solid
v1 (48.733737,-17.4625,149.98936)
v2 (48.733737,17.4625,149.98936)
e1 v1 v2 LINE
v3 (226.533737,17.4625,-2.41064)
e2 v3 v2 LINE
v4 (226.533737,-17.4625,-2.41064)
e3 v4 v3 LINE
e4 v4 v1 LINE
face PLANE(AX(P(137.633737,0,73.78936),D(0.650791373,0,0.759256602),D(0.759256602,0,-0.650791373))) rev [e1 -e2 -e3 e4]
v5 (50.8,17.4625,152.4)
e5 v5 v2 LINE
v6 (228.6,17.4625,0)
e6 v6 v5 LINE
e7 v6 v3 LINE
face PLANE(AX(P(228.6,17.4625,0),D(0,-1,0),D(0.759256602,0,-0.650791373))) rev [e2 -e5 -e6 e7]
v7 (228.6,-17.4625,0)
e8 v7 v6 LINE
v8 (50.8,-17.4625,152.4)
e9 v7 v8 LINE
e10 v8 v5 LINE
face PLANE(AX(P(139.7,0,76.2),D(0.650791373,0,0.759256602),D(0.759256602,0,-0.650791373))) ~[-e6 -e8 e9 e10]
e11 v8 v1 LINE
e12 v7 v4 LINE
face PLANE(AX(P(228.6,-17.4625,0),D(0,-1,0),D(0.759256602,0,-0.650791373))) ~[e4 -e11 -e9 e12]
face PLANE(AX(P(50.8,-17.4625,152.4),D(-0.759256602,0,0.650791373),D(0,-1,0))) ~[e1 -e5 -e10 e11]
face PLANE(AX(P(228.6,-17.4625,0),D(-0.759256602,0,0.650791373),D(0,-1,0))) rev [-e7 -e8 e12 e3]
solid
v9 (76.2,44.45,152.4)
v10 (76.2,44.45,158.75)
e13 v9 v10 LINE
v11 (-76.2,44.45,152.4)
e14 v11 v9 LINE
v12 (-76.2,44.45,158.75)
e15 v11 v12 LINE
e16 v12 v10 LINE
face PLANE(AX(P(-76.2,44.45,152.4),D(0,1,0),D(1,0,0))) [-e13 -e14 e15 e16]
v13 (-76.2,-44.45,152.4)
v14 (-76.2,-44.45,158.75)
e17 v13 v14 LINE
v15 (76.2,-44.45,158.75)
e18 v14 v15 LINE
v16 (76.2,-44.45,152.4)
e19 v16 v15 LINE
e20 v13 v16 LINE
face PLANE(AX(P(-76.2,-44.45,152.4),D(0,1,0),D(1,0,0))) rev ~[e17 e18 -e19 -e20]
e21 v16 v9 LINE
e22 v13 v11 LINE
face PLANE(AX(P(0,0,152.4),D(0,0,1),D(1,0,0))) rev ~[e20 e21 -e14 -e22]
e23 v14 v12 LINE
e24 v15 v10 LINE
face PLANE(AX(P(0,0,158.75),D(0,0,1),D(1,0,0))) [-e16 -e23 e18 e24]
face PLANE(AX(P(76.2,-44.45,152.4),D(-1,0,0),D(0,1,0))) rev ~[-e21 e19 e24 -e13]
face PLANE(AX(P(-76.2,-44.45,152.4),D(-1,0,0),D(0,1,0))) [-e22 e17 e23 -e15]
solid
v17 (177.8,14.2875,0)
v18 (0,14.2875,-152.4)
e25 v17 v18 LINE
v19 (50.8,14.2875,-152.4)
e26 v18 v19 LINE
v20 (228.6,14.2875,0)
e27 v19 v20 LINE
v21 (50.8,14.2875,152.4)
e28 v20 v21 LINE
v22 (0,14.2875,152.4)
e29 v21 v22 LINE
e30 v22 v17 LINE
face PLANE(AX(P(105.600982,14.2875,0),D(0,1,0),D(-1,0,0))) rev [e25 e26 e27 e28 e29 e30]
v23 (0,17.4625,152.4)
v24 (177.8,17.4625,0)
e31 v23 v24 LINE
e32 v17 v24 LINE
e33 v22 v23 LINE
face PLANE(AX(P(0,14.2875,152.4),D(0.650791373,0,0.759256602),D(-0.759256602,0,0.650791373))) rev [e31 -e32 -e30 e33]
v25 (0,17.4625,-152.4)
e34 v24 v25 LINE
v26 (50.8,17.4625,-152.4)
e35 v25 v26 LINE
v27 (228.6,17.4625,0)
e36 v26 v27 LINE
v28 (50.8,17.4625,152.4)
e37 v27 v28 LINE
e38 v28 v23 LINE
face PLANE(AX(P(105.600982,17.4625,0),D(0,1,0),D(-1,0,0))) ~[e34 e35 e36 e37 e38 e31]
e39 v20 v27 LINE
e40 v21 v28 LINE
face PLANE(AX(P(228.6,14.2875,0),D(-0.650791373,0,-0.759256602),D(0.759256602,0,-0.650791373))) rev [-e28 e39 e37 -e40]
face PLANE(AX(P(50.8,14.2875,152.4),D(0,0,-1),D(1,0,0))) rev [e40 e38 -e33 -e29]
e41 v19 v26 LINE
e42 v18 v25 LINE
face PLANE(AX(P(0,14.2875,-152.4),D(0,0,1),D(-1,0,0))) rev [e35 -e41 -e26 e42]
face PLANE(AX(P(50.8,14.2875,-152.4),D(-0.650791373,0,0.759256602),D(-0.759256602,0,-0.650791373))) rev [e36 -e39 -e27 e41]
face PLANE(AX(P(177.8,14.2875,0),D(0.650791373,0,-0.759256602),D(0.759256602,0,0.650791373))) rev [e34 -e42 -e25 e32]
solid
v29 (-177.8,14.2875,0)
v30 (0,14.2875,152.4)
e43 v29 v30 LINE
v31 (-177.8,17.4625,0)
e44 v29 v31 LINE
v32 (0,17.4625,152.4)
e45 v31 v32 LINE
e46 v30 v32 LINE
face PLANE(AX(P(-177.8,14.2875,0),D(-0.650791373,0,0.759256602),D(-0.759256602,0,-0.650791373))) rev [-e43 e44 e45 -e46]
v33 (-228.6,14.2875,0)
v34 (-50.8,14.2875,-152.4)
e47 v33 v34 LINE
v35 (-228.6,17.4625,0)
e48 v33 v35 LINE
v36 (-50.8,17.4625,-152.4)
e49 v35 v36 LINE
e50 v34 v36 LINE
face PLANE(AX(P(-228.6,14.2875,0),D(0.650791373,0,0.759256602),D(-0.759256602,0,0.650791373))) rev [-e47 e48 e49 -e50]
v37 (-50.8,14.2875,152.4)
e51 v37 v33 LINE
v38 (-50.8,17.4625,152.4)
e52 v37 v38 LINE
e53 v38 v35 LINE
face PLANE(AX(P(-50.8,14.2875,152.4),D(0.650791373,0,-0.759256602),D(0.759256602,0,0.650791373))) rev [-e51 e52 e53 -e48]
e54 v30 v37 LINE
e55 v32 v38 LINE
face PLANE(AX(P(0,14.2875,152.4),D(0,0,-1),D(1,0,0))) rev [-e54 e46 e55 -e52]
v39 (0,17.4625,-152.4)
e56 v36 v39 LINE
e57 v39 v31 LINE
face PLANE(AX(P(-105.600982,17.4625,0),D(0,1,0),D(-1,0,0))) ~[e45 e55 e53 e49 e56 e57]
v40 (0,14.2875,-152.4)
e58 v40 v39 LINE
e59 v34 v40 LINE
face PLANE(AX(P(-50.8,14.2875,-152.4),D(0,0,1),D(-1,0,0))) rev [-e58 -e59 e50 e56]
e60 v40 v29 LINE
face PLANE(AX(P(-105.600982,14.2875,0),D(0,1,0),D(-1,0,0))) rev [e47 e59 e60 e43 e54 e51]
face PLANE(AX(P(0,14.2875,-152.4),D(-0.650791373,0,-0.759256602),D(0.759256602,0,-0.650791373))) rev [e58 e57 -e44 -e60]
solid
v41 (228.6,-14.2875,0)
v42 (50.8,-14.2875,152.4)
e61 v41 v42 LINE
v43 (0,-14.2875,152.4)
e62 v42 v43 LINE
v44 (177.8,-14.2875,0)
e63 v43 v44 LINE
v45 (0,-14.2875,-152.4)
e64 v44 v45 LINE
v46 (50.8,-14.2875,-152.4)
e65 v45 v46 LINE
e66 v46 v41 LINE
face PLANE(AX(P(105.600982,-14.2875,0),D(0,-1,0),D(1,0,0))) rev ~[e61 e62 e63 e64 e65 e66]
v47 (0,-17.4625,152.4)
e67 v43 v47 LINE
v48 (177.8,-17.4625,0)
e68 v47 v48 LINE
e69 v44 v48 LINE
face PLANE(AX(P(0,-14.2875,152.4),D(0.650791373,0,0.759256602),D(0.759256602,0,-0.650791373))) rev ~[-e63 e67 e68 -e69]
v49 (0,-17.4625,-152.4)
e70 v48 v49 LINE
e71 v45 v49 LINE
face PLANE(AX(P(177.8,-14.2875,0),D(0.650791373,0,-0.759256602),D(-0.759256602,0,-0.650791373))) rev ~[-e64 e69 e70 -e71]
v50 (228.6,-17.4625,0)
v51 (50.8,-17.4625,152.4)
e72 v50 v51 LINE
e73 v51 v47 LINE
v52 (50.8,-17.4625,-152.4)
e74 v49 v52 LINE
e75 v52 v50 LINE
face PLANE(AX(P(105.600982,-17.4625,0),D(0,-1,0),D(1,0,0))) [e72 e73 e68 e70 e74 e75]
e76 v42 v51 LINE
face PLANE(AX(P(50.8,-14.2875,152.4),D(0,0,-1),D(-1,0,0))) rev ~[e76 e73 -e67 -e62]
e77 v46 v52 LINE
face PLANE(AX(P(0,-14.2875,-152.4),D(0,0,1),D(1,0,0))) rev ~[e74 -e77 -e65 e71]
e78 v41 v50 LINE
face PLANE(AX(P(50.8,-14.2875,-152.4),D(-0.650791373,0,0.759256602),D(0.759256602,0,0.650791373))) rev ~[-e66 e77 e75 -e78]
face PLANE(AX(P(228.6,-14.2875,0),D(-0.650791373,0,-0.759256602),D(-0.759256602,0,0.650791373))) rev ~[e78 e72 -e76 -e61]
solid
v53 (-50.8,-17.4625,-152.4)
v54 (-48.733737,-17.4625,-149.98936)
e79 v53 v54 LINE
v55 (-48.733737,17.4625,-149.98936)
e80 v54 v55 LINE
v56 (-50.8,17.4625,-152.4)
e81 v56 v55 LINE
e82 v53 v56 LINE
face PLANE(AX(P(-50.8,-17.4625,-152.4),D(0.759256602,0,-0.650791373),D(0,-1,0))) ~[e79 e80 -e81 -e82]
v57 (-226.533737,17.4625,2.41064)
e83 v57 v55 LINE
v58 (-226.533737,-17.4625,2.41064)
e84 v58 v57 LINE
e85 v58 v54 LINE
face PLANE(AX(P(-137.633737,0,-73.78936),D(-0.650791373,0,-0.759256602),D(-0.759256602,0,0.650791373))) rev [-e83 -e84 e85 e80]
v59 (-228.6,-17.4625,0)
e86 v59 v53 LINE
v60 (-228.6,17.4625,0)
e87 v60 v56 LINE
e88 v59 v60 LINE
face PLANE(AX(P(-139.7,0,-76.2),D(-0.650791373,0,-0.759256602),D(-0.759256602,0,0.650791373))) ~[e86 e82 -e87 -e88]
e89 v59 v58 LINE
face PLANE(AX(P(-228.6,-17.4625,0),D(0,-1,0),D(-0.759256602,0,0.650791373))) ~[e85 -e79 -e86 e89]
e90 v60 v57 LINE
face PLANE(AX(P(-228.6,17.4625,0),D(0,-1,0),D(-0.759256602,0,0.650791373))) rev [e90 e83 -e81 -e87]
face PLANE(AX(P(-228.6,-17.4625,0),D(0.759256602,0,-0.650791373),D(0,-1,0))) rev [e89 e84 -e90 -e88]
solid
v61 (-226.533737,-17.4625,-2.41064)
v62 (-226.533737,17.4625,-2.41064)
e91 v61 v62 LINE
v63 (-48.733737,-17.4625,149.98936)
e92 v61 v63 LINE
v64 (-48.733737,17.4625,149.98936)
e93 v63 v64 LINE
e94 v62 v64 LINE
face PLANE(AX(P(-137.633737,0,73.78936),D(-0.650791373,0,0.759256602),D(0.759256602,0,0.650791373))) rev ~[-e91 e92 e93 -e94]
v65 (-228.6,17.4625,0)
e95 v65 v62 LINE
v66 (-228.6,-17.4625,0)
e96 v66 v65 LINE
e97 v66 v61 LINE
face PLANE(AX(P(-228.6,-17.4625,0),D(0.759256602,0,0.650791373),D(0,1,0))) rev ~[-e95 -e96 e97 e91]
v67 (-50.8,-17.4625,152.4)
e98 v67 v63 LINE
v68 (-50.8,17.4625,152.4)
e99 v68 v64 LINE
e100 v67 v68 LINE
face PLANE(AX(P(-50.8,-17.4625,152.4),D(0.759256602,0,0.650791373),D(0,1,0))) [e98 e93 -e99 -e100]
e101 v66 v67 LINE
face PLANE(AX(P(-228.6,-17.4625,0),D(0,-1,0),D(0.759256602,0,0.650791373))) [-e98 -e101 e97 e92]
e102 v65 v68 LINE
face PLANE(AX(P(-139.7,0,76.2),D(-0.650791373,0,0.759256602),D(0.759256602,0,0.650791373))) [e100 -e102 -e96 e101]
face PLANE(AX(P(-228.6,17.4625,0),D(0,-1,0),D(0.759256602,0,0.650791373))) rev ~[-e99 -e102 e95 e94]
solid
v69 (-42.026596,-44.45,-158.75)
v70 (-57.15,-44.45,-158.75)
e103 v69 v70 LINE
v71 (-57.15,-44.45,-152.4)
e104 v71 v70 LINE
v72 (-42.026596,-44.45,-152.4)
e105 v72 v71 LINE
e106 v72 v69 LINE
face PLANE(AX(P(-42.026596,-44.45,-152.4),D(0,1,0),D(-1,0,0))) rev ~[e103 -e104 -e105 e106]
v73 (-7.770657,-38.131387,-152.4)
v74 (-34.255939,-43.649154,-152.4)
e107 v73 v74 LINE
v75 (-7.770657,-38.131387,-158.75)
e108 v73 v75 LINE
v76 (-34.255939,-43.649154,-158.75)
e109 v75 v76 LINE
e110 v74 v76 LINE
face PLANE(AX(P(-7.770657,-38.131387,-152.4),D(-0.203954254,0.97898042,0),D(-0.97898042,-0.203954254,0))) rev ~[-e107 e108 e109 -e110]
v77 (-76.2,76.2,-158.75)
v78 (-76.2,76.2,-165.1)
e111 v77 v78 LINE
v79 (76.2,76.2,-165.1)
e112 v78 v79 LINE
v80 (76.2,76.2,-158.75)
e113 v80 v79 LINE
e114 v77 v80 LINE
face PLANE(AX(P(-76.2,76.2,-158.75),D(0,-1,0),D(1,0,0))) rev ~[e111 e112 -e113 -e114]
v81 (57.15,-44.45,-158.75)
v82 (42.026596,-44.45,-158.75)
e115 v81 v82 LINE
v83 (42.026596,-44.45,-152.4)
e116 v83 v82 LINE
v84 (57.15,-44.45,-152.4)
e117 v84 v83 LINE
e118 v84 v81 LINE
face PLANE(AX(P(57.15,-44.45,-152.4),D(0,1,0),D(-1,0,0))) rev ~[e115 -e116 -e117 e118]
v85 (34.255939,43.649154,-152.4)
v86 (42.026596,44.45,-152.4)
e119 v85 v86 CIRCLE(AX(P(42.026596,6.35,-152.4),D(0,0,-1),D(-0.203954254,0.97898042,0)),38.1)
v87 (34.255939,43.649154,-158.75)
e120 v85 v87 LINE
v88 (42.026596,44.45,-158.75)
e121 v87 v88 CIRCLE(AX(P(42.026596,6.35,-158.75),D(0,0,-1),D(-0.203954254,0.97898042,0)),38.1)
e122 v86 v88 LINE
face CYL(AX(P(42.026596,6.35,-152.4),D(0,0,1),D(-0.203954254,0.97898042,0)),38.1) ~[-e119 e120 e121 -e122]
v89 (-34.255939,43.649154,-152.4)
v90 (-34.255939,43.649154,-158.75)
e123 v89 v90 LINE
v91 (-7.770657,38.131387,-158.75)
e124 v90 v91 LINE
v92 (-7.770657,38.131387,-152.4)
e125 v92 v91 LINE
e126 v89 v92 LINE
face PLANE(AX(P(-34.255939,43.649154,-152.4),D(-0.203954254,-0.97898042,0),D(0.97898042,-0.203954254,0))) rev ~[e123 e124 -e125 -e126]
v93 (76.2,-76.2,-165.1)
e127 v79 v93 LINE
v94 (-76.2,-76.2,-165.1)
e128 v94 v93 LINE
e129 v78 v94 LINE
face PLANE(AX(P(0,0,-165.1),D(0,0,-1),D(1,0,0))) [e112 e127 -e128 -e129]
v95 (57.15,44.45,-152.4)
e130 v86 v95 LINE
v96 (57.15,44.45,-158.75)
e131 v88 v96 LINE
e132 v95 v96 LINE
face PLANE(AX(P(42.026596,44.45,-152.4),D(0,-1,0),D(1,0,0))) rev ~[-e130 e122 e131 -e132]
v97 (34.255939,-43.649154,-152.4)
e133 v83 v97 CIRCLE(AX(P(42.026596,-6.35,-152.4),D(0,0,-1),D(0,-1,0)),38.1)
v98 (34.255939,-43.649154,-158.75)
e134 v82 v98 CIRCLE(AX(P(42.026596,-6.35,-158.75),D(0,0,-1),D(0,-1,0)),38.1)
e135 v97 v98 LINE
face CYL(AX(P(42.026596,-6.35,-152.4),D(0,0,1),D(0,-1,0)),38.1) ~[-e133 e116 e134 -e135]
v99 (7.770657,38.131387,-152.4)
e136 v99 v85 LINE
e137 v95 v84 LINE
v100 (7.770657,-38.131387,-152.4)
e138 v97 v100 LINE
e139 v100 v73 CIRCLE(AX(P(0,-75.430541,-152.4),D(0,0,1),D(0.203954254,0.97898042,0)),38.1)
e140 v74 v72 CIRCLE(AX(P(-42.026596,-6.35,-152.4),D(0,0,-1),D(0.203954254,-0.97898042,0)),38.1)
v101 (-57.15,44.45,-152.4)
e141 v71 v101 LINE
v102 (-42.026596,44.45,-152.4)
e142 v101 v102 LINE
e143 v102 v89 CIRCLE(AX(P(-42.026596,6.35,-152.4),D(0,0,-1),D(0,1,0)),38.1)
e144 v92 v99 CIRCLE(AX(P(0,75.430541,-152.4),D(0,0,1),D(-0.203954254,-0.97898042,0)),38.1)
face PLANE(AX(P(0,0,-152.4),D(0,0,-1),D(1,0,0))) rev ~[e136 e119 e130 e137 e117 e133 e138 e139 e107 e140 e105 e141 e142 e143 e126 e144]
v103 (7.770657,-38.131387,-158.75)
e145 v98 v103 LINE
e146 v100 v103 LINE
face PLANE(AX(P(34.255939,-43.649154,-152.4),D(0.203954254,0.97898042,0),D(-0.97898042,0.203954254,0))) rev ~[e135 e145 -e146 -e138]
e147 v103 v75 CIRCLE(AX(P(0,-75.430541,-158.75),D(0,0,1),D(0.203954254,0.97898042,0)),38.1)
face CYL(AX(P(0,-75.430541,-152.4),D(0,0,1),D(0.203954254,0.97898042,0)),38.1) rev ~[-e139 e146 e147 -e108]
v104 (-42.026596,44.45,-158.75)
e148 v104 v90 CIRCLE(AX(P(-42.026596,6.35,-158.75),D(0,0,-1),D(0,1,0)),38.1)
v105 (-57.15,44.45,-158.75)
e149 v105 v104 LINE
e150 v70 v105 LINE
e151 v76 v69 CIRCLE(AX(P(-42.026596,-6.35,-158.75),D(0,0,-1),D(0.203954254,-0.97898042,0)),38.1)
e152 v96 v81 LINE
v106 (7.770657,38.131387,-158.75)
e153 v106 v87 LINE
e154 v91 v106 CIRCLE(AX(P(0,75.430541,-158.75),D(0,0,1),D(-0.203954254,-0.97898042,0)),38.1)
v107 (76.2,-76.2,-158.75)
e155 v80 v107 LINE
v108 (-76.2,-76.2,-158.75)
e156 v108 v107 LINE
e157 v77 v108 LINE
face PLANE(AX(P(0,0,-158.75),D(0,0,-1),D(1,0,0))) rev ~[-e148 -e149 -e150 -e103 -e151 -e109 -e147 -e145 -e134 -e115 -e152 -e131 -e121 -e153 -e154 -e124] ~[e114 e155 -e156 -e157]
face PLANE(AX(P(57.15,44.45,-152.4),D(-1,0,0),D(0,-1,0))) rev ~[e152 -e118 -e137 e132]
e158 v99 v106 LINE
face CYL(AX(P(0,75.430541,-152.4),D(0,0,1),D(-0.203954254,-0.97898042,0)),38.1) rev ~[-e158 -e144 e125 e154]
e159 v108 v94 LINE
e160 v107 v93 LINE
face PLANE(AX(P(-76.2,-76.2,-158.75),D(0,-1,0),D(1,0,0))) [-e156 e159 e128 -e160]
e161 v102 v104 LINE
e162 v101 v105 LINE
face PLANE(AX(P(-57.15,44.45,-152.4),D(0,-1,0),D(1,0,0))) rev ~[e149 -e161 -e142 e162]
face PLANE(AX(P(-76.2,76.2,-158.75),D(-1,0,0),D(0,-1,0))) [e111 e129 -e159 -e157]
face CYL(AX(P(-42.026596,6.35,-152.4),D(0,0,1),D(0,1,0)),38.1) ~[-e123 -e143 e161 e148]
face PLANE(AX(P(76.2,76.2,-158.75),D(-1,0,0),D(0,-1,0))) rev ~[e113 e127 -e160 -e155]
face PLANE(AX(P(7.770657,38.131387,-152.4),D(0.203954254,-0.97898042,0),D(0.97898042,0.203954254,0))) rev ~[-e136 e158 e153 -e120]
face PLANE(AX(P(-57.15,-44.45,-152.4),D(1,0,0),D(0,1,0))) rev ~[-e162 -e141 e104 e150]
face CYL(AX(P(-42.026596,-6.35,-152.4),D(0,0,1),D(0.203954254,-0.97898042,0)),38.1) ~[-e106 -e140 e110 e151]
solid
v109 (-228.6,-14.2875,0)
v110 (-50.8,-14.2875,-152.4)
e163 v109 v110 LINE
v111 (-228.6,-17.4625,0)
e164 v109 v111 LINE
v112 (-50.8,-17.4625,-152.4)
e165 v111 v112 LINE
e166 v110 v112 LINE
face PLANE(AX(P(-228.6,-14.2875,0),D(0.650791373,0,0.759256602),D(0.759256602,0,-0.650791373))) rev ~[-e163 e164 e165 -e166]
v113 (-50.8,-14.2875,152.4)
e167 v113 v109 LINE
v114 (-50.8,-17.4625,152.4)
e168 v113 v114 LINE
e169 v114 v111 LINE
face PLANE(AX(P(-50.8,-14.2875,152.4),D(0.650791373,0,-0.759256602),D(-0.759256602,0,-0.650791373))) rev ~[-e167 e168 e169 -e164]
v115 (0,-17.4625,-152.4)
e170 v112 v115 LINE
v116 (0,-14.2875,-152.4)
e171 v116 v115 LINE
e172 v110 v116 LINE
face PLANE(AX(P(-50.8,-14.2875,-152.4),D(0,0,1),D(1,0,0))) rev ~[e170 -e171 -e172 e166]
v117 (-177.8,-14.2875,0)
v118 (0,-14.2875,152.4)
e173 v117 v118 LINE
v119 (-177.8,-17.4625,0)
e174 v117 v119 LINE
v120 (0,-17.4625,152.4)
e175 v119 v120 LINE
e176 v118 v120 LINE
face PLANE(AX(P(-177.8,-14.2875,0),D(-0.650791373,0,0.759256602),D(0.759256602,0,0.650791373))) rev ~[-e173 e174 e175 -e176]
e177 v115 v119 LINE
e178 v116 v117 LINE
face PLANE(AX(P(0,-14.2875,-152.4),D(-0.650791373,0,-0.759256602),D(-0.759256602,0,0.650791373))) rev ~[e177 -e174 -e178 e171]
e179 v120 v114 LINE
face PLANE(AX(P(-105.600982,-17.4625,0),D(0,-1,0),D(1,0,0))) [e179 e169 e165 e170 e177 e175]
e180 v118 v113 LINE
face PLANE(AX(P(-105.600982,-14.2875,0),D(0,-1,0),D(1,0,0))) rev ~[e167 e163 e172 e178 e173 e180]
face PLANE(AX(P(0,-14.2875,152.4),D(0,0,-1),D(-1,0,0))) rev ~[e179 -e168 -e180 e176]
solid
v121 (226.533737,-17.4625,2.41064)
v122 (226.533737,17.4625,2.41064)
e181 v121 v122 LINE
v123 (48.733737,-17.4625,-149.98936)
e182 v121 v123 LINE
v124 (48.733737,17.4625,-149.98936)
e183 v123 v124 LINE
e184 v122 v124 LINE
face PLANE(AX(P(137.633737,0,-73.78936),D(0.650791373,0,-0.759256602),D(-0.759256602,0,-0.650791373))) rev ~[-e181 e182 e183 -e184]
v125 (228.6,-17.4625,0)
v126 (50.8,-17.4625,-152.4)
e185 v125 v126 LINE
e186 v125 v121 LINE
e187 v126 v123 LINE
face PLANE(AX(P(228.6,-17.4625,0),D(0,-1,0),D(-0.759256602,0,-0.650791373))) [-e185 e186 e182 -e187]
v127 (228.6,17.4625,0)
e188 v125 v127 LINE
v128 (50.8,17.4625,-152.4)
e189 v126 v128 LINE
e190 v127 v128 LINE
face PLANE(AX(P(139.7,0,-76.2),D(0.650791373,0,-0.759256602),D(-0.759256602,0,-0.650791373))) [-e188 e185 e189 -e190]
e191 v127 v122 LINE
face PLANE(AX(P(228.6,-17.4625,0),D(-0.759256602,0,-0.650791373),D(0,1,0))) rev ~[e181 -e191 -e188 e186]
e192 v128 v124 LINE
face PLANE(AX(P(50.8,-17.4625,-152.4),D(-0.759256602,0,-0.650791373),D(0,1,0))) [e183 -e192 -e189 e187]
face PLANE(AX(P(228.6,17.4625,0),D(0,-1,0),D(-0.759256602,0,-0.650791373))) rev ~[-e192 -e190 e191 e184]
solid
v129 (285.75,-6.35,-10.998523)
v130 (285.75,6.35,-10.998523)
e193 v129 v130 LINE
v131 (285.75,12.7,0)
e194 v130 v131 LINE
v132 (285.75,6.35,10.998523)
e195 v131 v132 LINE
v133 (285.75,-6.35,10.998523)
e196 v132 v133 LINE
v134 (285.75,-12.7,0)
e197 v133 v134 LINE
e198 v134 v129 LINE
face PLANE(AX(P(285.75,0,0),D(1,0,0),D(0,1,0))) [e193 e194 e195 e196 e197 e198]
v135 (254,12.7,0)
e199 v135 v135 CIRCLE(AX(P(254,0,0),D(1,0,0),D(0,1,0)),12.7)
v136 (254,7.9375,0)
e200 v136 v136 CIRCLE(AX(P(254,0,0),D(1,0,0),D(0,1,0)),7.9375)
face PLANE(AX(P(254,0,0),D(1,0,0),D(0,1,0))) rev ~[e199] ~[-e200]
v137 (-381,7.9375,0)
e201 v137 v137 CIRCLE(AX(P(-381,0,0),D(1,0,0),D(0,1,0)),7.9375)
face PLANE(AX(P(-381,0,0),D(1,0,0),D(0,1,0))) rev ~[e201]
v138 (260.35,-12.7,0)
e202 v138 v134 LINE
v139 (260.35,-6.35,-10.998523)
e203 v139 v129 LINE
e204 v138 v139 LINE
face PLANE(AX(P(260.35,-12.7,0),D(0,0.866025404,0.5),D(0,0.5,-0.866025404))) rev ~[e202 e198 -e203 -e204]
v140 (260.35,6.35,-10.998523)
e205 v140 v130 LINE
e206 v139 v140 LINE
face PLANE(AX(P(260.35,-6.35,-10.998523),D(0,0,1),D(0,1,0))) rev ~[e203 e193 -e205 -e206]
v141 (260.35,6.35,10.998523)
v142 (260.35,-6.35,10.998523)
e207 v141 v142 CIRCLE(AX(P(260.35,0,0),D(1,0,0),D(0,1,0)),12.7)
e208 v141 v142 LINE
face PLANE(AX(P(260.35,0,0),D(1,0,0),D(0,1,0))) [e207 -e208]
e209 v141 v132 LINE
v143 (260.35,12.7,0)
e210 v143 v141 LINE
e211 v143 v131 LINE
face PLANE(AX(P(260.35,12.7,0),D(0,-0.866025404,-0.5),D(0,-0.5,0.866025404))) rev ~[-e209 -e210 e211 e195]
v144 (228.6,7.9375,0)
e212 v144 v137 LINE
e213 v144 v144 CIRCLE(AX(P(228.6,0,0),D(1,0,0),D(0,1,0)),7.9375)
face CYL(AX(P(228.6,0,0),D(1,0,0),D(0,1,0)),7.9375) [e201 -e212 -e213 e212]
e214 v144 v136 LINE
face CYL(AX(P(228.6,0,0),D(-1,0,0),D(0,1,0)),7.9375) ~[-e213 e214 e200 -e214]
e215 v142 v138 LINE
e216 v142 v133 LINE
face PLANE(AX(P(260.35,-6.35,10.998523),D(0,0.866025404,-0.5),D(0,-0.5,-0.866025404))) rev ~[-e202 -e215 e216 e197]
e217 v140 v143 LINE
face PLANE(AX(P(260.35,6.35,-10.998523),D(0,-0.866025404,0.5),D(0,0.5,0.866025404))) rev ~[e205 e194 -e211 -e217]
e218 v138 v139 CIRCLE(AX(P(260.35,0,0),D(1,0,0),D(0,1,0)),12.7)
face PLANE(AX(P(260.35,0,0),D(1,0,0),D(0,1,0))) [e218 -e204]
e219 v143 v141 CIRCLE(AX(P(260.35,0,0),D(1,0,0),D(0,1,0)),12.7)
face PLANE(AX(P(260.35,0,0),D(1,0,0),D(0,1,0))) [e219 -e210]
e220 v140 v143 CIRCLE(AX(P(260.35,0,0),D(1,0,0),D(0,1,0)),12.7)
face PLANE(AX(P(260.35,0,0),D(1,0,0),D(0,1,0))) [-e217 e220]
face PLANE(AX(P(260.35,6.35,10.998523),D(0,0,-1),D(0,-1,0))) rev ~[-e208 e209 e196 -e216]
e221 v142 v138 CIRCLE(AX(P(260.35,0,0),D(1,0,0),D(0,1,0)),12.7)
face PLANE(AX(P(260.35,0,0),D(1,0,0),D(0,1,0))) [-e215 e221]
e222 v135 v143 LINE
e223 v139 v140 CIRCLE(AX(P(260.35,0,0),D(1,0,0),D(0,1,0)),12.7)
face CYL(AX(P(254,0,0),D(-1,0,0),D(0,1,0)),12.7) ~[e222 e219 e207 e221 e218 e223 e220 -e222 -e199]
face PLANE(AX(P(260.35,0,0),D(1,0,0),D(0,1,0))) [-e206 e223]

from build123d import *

# Parameters (mm, degrees)
F2_DEPTH  = 3.175
F4_W      = 234.1764292152
F4_H      = 34.925
F5_DEPTH  = 3.175
F8_W      = 152.4
F8_H      = 88.9
F9_DEPTH  = 6.35
F11_DEPTH = 6.35
F13_R     = 7.9375
F14_DEPTH = 609.6
F15_R     = 7.9375
F16_DEPTH = 25.4
F17_R     = 12.7
F18_DEPTH = 6.35
F20_DEPTH = 25.4
F21_W     = 152.4
F21_H     = 152.4
F22_DEPTH = 6.35


with BuildPart() as f2:
    # F1 (on offset) → F2 (new body)
    with BuildSketch(Plane.XZ.offset(14.2875)):
        Polygon((-177.8, 0), (0, 152.4), (-50.8, 152.4), (-228.6, 0), (-50.8, -152.4), (0, -152.4), align=None)
    extrude(amount=F2_DEPTH)


with BuildPart() as f2b:
    # F1 (on offset) → F2, piece 2 (new body)
    with BuildSketch(Plane.XZ.offset(14.2875)):
        Polygon((50.8, 152.4), (0, 152.4), (177.8, 0), (0, -152.4), (50.8, -152.4), (228.6, 0), align=None)
    extrude(amount=F2_DEPTH)


with BuildPart() as f3_1:
    # F3: instance of F2
    add(f2.part.mirror(Plane.XZ))


with BuildPart() as f3_2:
    # F3: instance of F2b
    add(f2b.part.mirror(Plane.XZ))


with BuildPart() as f5:
    # F4 (on face) → F5 (new body)
    with BuildSketch(Plane(origin=(-96.8188235294, 0, 112.9552941176), x_dir=(0.7592566024, 0, 0.6507913735), z_dir=(-0.6507913735, 0, 0.7592566024))):
        with Locations((-56.4778446931, 0)):
            Rectangle(F4_W, F4_H)
    extrude(amount=-F5_DEPTH)


with BuildPart() as f6_1:
    # F6: instance of F5
    add(f5.part.mirror(Plane.XY))


with BuildPart() as f7_1:
    # F7: instance of F5
    add(f5.part.mirror(Plane.YZ))


with BuildPart() as f7_2:
    # F7: instance of F6_1
    add(f6_1.part.mirror(Plane.YZ))


with BuildPart() as f9:
    # F8 (on face) → F9 (new body)
    with BuildSketch(Plane.XY.offset(152.4)):
        Rectangle(F8_W, F8_H)
    extrude(amount=F9_DEPTH)


with BuildPart() as f11:
    # F10 (on face) → F11 (new body)
    with BuildSketch(Plane(origin=(0, 0, -152.4), x_dir=(1, 0, 0), z_dir=(0, 0, -1))):
        with BuildLine():
            Line((-42.0265962433, 44.45), (-57.15, 44.45))
            Line((-57.15, 44.45), (-57.15, -44.45))
            Line((-57.15, -44.45), (-42.0265962433, -44.45))
            ThreePointArc((-42.0265962433, -44.45), (-38.1206883524, -44.2492596702), (-34.2559391616, -43.649153992))
            Line((-34.2559391616, -43.649153992), (-7.7706570817, -38.131386892))
            ThreePointArc((-7.7706570817, -38.131386892), (0, -37.330540884), (7.7706570817, -38.131386892))
            Line((7.7706570817, -38.131386892), (34.2559391616, -43.649153992))
            ThreePointArc((34.2559391616, -43.649153992), (38.1206883524, -44.2492596702), (42.0265962433, -44.45))
            Line((42.0265962433, -44.45), (57.15, -44.45))
            Line((57.15, -44.45), (57.15, 44.45))
            Line((57.15, 44.45), (42.0265962433, 44.45))
            ThreePointArc((42.0265962433, 44.45), (38.1206883524, 44.2492596702), (34.2559391616, 43.649153992))
            Line((34.2559391616, 43.649153992), (7.7706570817, 38.131386892))
            ThreePointArc((7.7706570817, 38.131386892), (0, 37.330540884), (-7.7706570817, 38.131386892))
            Line((-7.7706570817, 38.131386892), (-34.2559391616, 43.649153992))
            ThreePointArc((-34.2559391616, 43.649153992), (-38.1206883524, 44.2492596702), (-42.0265962433, 44.45))
        make_face()
    extrude(amount=F11_DEPTH)

    # F21 (on face) → F22 (join)
    with BuildSketch(Plane(origin=(0, 0, -158.75), x_dir=(1, 0, 0), z_dir=(0, 0, -1))):
        Rectangle(F21_W, F21_H)
    extrude(amount=F22_DEPTH)


with BuildPart() as f14:
    # F13 (on offset) → F14 (new body)
    with BuildSketch(Plane.YZ.offset(228.6)):
        Circle(F13_R)
    extrude(amount=-F14_DEPTH)

    # F15 (on face) → F16 (join)
    with BuildSketch(Plane.YZ.offset(228.6)):
        Circle(F15_R)
    extrude(amount=F16_DEPTH)

    # F17 (on face) → F18 (join)
    with BuildSketch(Plane.YZ.offset(254)):
        Circle(F17_R)
    extrude(amount=F18_DEPTH)

    # F19 (on face) → F20 (join)
    with BuildSketch(Plane.YZ.offset(260.35)):
        Polygon((12.7, 0), (6.35, 10.9985226281), (-6.35, 10.9985226281), (-12.7, 0), (-6.35, -10.9985226281), (6.35, -10.9985226281), align=None)
    extrude(amount=F20_DEPTH)


solid = Compound([f2.part, f2b.part, f3_1.part, f3_2.part, f5.part, f6_1.part, f7_1.part, f7_2.part, f9.part, f11.part, f14.part])
